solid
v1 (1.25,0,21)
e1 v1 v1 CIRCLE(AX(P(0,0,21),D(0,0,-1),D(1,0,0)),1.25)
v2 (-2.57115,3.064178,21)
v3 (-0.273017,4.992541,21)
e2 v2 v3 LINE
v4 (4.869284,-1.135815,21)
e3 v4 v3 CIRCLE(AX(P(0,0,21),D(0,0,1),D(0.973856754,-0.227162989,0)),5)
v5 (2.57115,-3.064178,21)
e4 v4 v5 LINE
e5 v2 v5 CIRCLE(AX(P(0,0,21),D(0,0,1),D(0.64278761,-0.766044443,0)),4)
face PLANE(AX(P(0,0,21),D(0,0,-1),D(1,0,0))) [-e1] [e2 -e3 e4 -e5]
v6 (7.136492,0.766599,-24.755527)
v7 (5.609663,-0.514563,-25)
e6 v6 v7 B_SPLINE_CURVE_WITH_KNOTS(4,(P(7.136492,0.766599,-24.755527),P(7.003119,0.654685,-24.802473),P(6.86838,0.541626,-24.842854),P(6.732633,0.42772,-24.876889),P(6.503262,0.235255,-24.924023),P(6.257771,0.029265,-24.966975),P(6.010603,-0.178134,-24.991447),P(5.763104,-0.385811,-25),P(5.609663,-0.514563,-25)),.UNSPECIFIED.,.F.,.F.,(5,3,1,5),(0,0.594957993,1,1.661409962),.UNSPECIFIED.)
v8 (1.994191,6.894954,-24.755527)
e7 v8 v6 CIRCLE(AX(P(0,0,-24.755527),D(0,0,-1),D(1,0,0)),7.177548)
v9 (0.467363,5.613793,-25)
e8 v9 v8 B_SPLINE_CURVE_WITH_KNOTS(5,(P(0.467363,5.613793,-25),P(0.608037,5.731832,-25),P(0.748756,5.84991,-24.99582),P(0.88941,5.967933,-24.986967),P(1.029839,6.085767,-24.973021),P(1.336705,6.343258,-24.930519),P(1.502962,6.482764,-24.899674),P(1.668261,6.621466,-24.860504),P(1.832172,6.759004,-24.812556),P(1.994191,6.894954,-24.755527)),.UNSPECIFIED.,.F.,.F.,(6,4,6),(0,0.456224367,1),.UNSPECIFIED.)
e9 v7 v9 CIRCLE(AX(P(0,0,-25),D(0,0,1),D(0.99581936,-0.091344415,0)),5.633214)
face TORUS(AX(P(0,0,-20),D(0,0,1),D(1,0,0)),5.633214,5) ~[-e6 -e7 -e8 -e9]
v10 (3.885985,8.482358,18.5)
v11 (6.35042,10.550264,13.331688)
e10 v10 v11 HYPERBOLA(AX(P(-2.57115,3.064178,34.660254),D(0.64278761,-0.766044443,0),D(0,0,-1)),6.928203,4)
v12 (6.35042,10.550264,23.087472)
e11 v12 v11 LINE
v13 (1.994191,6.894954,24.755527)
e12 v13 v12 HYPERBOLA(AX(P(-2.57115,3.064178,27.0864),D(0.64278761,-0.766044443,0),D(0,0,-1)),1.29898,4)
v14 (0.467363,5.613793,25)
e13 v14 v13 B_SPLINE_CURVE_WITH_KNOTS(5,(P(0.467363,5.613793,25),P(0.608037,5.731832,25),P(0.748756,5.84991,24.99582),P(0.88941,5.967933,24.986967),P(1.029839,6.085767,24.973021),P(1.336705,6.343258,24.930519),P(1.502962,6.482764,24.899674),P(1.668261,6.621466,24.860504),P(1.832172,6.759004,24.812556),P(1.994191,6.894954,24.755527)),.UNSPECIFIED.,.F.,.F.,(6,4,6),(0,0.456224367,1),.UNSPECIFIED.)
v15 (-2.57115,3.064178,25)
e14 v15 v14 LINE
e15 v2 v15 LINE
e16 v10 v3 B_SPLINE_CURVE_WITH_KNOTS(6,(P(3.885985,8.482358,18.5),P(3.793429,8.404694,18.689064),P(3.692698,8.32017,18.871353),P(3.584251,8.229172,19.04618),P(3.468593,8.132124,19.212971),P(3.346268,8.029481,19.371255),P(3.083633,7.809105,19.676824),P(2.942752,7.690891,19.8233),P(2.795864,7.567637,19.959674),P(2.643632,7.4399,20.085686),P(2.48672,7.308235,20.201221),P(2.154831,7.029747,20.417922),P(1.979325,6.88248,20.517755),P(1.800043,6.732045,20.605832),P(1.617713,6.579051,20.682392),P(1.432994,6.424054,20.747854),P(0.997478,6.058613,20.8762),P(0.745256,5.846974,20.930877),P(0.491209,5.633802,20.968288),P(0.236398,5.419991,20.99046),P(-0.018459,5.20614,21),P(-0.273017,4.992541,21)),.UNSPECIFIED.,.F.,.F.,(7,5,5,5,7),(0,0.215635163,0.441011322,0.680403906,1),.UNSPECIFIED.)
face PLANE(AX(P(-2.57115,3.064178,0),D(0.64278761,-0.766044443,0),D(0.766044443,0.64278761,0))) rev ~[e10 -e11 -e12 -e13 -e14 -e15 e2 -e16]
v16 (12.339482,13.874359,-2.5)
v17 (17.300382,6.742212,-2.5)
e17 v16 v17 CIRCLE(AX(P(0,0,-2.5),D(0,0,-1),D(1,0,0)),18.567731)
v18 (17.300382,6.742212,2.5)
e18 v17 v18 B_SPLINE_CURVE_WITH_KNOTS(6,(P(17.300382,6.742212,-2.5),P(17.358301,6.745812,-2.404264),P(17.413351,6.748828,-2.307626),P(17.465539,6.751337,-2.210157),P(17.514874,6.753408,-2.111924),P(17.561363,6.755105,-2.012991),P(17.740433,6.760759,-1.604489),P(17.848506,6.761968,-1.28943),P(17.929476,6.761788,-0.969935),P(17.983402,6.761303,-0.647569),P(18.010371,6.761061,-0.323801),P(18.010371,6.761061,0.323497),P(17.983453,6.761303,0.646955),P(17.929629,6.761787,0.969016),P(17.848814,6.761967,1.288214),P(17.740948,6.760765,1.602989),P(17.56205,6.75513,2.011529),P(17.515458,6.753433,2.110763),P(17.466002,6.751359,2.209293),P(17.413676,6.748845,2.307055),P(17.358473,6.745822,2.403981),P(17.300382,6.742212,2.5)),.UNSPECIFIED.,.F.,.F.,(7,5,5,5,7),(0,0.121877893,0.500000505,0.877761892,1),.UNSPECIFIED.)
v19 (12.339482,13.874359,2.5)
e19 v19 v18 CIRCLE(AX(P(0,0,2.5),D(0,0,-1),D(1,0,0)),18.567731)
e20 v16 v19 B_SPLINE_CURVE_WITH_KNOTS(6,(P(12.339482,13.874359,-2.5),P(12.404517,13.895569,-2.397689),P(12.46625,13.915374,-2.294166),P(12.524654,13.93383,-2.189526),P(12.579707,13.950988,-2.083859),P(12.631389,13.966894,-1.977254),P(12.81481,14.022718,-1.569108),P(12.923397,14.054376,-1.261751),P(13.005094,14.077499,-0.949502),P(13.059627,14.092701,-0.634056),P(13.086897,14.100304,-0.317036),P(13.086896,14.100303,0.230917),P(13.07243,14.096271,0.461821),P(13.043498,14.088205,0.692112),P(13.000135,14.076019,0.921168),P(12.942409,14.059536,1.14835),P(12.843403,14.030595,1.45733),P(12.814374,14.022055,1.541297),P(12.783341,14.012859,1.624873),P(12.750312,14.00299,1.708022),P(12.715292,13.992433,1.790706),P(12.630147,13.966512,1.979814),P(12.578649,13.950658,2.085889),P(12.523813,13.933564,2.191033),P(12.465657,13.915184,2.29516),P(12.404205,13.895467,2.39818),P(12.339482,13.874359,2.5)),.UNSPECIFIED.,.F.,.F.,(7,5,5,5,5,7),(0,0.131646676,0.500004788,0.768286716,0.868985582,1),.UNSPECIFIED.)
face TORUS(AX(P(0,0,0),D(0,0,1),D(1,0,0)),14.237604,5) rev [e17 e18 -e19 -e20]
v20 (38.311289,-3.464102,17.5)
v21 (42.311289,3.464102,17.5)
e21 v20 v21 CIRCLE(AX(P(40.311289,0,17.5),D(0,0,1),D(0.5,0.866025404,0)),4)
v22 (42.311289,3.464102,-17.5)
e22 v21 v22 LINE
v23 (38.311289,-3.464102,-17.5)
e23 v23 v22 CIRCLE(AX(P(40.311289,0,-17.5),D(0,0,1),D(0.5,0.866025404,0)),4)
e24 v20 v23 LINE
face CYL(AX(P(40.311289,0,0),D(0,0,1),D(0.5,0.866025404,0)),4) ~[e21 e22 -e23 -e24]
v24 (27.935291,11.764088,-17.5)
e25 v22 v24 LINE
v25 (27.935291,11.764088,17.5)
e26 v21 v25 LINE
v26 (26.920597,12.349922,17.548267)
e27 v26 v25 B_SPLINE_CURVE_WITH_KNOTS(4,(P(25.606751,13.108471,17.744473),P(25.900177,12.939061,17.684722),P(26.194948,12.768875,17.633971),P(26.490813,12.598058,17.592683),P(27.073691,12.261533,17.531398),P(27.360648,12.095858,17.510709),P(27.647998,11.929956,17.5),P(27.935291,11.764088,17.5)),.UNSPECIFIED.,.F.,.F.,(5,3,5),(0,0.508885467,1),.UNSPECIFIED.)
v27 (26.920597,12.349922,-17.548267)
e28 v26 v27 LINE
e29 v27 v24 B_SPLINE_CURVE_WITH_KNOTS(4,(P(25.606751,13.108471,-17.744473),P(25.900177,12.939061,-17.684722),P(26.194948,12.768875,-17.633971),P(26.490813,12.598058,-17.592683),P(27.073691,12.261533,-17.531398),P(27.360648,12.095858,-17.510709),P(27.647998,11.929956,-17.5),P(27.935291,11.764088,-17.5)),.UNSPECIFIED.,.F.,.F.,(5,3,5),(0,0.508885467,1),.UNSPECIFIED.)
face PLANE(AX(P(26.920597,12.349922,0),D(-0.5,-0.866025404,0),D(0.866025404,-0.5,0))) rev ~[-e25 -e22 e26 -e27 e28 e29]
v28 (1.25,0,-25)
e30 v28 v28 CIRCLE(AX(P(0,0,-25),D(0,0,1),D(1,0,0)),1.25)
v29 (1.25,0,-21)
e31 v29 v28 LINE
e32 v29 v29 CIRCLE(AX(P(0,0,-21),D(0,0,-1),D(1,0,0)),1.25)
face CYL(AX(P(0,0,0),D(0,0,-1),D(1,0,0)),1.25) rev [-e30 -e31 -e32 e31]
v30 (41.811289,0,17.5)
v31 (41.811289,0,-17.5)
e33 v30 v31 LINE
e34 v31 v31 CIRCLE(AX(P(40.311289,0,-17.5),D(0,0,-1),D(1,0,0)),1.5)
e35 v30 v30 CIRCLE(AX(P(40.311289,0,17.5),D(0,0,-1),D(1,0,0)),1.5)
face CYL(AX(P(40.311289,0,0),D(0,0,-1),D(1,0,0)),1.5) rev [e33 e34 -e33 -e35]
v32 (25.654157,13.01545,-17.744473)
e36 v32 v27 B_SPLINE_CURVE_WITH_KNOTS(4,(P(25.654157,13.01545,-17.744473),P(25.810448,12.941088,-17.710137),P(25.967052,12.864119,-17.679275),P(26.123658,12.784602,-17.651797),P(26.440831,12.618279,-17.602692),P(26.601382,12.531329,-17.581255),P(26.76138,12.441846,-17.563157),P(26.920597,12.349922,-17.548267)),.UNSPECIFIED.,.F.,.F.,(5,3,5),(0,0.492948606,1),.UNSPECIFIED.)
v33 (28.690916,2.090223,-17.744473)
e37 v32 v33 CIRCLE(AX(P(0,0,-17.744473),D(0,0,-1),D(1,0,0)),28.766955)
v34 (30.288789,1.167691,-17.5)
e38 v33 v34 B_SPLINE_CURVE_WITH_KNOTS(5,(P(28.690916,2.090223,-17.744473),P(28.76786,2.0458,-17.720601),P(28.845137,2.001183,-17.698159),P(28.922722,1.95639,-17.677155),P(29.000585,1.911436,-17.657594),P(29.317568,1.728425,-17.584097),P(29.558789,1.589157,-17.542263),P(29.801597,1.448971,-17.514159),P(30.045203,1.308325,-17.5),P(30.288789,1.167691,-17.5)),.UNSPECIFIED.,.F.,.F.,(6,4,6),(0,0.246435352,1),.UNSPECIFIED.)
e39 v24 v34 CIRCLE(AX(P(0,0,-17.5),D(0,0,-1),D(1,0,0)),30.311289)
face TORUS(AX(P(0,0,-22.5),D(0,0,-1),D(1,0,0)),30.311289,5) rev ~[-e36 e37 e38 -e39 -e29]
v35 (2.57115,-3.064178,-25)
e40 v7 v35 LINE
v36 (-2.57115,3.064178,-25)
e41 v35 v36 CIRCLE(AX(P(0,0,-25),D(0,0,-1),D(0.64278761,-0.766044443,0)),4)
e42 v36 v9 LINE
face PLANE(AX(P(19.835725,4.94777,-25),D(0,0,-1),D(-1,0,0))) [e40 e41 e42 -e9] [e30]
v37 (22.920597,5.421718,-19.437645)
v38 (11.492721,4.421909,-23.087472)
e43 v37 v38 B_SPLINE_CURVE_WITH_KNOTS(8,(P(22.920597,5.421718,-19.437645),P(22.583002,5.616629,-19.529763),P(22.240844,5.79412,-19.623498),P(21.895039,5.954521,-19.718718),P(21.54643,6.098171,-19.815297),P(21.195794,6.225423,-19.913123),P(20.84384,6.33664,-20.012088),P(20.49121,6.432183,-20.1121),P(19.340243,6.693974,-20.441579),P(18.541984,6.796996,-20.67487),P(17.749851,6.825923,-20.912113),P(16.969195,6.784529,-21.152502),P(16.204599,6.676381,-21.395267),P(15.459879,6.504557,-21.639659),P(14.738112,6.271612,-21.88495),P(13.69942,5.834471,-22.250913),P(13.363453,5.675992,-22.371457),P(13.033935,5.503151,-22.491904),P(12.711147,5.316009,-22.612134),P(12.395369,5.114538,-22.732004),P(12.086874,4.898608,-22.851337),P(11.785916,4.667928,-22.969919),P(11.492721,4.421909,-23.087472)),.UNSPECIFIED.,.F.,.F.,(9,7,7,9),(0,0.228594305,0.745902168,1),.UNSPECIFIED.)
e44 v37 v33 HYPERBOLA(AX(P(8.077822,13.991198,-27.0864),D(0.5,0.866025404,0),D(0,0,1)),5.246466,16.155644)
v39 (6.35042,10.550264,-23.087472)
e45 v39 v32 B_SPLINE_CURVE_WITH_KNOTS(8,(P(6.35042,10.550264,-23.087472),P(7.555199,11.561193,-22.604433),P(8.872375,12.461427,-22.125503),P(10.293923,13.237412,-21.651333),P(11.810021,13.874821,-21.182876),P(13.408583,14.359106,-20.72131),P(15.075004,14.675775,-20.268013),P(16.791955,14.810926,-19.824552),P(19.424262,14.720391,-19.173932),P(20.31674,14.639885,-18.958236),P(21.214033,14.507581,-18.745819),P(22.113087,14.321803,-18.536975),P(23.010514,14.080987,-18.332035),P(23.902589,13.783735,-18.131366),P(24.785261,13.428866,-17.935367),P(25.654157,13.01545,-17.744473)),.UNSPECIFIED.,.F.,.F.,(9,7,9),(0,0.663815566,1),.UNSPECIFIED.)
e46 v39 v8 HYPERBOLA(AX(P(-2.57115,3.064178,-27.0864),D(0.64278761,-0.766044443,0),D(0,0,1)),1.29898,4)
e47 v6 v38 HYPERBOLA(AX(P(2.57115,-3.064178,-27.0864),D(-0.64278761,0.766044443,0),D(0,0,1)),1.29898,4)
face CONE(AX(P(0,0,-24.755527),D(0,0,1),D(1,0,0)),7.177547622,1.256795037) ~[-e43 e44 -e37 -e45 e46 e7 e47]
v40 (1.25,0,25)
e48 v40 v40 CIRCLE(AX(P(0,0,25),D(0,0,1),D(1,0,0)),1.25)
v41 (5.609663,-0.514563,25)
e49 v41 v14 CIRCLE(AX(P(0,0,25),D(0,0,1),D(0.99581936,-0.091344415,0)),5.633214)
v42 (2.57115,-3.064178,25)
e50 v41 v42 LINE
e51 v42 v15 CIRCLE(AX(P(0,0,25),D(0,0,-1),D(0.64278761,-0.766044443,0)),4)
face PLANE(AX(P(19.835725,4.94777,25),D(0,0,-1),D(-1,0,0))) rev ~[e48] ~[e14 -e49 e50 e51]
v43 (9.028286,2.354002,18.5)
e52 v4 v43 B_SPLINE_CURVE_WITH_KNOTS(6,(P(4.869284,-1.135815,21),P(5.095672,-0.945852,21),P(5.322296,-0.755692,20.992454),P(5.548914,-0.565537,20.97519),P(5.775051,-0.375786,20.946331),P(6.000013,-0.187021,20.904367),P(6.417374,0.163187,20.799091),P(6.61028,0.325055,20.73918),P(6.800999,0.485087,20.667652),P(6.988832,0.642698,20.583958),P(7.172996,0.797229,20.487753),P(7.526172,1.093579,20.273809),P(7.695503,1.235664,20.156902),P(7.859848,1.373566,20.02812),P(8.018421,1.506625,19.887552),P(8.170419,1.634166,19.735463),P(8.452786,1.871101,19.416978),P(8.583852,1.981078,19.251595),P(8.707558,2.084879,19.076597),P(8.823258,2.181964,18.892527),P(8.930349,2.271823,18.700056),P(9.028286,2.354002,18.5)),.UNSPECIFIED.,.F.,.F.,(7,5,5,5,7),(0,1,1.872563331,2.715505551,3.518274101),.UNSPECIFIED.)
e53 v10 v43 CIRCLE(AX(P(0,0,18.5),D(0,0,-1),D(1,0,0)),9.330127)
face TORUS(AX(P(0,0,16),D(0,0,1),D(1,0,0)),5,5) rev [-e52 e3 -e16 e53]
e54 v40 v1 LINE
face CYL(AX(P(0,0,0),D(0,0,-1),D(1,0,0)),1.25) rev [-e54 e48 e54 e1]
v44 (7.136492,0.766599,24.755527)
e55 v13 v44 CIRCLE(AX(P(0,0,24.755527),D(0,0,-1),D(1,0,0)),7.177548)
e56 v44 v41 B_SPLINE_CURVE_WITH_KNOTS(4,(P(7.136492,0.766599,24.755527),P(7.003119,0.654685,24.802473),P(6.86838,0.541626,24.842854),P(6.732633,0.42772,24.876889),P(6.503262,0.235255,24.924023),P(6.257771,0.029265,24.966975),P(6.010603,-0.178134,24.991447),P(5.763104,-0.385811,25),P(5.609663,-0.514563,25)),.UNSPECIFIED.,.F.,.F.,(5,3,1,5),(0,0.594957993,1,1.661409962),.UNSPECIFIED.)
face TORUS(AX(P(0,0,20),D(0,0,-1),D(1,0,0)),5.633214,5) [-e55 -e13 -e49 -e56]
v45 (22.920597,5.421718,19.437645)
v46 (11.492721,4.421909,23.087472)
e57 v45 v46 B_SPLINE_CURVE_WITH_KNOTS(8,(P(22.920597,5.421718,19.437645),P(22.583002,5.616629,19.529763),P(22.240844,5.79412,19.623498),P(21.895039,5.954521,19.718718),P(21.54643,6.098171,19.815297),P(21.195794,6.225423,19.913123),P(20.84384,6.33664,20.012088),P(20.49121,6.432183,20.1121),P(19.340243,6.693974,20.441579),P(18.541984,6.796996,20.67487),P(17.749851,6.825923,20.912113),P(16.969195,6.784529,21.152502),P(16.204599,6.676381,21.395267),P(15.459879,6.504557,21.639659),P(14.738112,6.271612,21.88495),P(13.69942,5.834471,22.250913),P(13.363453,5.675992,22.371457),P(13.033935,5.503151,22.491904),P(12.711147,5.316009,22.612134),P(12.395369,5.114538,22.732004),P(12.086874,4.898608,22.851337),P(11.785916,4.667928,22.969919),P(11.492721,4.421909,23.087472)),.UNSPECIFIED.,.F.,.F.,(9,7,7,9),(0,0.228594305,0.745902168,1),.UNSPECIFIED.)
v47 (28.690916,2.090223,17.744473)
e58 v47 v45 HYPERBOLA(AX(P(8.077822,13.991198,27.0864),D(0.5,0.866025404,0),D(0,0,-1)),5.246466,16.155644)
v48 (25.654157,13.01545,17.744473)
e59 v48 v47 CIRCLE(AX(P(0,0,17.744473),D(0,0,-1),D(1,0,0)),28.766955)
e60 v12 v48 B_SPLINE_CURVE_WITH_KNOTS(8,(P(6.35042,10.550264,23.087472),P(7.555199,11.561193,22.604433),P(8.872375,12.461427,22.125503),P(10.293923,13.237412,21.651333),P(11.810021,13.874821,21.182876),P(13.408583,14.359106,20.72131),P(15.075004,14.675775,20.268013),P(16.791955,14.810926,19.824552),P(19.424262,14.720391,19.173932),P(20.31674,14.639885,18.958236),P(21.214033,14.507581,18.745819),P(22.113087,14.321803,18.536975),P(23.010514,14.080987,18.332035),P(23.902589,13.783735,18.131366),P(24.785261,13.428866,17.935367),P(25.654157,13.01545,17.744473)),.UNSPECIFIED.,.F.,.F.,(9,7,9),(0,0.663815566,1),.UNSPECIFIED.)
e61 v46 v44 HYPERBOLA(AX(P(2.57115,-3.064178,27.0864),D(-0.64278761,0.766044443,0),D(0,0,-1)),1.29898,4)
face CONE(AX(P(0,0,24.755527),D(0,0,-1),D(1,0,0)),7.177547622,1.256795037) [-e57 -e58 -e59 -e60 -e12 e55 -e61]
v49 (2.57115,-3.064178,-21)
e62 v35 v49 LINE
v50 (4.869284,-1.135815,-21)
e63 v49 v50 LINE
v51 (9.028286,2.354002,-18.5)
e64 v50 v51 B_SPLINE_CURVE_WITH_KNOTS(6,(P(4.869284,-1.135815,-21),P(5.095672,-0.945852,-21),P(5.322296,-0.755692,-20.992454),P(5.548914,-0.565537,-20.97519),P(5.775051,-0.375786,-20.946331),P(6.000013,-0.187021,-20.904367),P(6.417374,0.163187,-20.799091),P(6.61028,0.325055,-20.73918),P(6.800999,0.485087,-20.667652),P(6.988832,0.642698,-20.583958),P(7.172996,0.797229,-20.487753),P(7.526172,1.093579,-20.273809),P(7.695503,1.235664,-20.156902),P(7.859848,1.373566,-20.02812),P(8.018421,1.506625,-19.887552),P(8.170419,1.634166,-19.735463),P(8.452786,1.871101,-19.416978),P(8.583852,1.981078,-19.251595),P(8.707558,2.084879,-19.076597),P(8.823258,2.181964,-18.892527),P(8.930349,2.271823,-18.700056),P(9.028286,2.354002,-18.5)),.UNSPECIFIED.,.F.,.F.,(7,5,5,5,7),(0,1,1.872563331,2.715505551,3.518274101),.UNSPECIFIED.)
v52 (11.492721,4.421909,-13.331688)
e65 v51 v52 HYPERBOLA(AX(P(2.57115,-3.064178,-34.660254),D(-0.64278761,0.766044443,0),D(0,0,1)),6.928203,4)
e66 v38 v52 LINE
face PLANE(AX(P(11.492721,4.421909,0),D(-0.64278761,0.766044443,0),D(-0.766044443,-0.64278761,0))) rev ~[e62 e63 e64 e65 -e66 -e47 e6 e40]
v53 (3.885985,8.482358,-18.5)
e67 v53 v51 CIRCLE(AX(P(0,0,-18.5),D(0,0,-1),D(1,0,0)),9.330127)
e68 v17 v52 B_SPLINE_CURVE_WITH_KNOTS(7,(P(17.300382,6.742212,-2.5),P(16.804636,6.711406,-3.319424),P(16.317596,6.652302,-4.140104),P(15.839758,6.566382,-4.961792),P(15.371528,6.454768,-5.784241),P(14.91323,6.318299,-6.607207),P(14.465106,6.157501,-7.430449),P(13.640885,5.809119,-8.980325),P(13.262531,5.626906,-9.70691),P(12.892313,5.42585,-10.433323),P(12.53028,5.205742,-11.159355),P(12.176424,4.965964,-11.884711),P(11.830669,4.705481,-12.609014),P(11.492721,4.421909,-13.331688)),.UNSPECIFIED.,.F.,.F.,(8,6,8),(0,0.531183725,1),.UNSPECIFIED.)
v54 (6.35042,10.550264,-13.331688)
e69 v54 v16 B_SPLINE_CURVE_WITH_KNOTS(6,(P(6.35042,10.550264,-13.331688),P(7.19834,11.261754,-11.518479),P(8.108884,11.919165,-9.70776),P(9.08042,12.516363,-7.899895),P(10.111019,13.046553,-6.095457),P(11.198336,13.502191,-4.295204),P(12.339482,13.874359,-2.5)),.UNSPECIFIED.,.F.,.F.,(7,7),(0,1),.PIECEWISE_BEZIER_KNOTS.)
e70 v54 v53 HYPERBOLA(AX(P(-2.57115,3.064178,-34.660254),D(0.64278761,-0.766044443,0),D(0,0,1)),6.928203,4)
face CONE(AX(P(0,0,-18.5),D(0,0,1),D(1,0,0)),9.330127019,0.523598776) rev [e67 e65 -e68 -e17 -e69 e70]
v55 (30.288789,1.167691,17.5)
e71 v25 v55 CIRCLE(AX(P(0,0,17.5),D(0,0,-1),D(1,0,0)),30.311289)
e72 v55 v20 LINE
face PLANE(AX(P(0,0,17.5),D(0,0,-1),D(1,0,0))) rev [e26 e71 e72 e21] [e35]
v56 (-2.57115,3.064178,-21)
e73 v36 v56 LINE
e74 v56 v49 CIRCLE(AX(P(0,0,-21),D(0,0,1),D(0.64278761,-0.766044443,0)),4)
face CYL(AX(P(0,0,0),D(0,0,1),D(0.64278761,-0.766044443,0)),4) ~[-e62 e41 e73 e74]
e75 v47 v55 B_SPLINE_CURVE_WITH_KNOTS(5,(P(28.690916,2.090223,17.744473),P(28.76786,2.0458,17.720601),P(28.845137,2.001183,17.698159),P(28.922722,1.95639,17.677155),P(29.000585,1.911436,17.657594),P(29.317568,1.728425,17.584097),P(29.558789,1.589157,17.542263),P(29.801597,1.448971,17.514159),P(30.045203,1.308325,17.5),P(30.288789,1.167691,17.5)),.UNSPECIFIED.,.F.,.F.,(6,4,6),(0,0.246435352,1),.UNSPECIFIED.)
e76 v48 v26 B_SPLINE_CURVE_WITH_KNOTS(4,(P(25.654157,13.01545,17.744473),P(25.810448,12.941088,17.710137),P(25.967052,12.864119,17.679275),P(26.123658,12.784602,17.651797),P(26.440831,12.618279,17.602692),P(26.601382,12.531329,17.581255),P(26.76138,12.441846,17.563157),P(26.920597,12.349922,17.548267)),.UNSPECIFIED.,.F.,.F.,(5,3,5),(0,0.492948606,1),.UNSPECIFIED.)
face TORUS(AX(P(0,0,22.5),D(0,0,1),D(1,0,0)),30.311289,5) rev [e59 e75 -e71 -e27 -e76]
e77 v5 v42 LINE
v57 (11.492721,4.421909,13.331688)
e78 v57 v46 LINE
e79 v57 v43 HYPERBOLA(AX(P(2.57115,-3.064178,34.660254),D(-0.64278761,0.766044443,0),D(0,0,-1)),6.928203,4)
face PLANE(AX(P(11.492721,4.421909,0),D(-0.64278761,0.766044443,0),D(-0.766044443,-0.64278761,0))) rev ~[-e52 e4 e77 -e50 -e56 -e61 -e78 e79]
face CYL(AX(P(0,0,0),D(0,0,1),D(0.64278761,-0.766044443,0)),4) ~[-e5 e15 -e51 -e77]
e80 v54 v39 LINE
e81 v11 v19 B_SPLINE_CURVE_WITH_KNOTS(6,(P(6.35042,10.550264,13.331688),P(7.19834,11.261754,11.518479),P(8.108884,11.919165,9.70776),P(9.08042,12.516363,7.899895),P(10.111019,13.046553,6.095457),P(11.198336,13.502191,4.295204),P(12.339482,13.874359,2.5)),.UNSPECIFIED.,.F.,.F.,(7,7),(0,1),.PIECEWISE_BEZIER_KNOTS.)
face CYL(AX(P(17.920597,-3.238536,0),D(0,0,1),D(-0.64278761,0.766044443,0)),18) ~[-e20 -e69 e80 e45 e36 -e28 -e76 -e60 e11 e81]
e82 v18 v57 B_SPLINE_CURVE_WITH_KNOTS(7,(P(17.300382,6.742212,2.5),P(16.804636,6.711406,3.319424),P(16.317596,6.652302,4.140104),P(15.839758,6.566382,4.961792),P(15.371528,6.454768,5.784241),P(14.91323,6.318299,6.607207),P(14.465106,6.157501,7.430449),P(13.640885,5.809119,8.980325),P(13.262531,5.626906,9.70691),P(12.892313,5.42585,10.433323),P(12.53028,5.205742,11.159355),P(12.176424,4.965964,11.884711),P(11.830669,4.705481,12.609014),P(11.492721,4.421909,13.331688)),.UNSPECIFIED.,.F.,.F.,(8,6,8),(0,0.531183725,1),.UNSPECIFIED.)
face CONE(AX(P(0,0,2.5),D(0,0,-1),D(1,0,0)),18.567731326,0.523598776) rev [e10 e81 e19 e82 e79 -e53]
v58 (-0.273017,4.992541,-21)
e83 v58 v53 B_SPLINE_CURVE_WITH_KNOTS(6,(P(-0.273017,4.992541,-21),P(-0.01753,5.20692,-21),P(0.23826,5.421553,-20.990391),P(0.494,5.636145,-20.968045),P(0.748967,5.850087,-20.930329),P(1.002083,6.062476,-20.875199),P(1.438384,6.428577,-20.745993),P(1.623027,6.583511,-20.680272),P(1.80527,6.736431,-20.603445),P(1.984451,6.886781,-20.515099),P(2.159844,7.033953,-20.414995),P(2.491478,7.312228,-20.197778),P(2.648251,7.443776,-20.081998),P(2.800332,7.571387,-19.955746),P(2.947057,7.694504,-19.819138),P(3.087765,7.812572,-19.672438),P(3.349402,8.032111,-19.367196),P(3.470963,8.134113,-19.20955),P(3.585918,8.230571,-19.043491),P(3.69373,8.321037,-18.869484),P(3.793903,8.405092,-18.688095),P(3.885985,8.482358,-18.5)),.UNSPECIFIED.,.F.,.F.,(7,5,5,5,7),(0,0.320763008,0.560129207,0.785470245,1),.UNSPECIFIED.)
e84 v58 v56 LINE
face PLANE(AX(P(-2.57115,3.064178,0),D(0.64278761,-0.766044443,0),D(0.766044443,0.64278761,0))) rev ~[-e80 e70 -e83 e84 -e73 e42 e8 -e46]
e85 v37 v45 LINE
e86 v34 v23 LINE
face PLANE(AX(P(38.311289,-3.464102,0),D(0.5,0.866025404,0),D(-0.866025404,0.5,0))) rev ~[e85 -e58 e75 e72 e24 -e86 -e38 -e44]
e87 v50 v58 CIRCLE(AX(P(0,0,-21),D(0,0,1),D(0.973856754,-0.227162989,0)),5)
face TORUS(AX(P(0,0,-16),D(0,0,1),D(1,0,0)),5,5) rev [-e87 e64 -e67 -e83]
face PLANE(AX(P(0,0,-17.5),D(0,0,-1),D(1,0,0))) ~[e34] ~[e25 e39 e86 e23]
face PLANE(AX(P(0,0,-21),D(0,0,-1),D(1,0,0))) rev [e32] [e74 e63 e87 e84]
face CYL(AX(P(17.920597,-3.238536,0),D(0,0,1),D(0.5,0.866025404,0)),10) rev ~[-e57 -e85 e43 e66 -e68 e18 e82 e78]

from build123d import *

# Parameters (mm, degrees)
ESQUISSE1_R        = 1.25
ESQUISSE1_R_2      = 1.5
BOSS_EXTRU_1_DEPTH = 25


with BuildPart() as part:
    # Esquisse1 → Boss.-Extru.1 (new, symmetric)
    with BuildSketch(Plane.XY):
        with BuildLine():
            Line((-2.571150439, 3.064177772), (6.350420085, 10.550264309))
            ThreePointArc((6.350420085, 10.550264309), (16.35179369, 14.692968898), (26.92059706, 12.349921601))
            Line((26.92059706, 12.349921601), (42.311288741, 3.464101615))
            ThreePointArc((42.311288741, 3.464101615), (43.775390357, -2), (38.311288741, -3.464101615))
            Line((38.311288741, -3.464101615), (22.92059706, 5.42171837))
            ThreePointArc((22.92059706, 5.42171837), (17.049039632, 6.723411313), (11.492720963, 4.421908764))
            Line((11.492720963, 4.421908764), (2.571150439, -3.064177772))
            ThreePointArc((2.571150439, -3.064177772), (-3.064177772, -2.571150439), (-2.571150439, 3.064177772))
        make_face()
        Circle(ESQUISSE1_R, mode=Mode.SUBTRACT)
        with Locations((40.311288741, 0)):
            Circle(ESQUISSE1_R_2, mode=Mode.SUBTRACT)
    extrude(amount=BOSS_EXTRU_1_DEPTH, both=True)

    # Esquisse4 → Enlèvement de matière-Révolution1 (revolve, cut)
    with BuildSketch(Plane(origin=(0, 0, 0), x_dir=(1, 0, 0), z_dir=(0, 1, 0))):
        with BuildLine():
            Line((80, 17.5), (80, 25))
            Line((80, 25), (5.633213888, 25))
            ThreePointArc((5.633213888, 25), (6.414996134, 24.93850347), (7.177547622, 24.755526608))
            Line((7.177547622, 24.755526608), (28.766955008, 17.744473392))
            ThreePointArc((28.766955008, 17.744473392), (29.529506495, 17.56149653), (30.311288741, 17.5))
            Line((30.311288741, 17.5), (80, 17.5))
        make_face()
        with BuildLine():
            Line((0, 21), (5, 21))
            ThreePointArc((5, 21), (7.5, 20.330127019), (9.330127019, 18.5))
            Line((9.330127019, 18.5), (18.567731326, 2.5))
            ThreePointArc((18.567731326, 2.5), (19.237604307, 0), (18.567731326, -2.5))
            Line((18.567731326, -2.5), (9.330127019, -18.5))
            ThreePointArc((9.330127019, -18.5), (7.5, -20.330127019), (5, -21))
            Line((5, -21), (0, -21))
            Line((0, -21), (0, 21))
        make_face()
        with BuildLine():
            Line((30.311288741, -17.5), (80, -17.5))
            Line((80, -17.5), (80, -25))
            Line((80, -25), (5.633213888, -25))
            ThreePointArc((5.633213888, -25), (6.414996134, -24.93850347), (7.177547622, -24.755526608))
            Line((7.177547622, -24.755526608), (28.766955008, -17.744473392))
            ThreePointArc((28.766955008, -17.744473392), (29.529506495, -17.56149653), (30.311288741, -17.5))
        make_face()
    revolve(axis=Axis((0, 0, 25), (0, 0, -1)), mode=Mode.SUBTRACT)


solid = part.part
